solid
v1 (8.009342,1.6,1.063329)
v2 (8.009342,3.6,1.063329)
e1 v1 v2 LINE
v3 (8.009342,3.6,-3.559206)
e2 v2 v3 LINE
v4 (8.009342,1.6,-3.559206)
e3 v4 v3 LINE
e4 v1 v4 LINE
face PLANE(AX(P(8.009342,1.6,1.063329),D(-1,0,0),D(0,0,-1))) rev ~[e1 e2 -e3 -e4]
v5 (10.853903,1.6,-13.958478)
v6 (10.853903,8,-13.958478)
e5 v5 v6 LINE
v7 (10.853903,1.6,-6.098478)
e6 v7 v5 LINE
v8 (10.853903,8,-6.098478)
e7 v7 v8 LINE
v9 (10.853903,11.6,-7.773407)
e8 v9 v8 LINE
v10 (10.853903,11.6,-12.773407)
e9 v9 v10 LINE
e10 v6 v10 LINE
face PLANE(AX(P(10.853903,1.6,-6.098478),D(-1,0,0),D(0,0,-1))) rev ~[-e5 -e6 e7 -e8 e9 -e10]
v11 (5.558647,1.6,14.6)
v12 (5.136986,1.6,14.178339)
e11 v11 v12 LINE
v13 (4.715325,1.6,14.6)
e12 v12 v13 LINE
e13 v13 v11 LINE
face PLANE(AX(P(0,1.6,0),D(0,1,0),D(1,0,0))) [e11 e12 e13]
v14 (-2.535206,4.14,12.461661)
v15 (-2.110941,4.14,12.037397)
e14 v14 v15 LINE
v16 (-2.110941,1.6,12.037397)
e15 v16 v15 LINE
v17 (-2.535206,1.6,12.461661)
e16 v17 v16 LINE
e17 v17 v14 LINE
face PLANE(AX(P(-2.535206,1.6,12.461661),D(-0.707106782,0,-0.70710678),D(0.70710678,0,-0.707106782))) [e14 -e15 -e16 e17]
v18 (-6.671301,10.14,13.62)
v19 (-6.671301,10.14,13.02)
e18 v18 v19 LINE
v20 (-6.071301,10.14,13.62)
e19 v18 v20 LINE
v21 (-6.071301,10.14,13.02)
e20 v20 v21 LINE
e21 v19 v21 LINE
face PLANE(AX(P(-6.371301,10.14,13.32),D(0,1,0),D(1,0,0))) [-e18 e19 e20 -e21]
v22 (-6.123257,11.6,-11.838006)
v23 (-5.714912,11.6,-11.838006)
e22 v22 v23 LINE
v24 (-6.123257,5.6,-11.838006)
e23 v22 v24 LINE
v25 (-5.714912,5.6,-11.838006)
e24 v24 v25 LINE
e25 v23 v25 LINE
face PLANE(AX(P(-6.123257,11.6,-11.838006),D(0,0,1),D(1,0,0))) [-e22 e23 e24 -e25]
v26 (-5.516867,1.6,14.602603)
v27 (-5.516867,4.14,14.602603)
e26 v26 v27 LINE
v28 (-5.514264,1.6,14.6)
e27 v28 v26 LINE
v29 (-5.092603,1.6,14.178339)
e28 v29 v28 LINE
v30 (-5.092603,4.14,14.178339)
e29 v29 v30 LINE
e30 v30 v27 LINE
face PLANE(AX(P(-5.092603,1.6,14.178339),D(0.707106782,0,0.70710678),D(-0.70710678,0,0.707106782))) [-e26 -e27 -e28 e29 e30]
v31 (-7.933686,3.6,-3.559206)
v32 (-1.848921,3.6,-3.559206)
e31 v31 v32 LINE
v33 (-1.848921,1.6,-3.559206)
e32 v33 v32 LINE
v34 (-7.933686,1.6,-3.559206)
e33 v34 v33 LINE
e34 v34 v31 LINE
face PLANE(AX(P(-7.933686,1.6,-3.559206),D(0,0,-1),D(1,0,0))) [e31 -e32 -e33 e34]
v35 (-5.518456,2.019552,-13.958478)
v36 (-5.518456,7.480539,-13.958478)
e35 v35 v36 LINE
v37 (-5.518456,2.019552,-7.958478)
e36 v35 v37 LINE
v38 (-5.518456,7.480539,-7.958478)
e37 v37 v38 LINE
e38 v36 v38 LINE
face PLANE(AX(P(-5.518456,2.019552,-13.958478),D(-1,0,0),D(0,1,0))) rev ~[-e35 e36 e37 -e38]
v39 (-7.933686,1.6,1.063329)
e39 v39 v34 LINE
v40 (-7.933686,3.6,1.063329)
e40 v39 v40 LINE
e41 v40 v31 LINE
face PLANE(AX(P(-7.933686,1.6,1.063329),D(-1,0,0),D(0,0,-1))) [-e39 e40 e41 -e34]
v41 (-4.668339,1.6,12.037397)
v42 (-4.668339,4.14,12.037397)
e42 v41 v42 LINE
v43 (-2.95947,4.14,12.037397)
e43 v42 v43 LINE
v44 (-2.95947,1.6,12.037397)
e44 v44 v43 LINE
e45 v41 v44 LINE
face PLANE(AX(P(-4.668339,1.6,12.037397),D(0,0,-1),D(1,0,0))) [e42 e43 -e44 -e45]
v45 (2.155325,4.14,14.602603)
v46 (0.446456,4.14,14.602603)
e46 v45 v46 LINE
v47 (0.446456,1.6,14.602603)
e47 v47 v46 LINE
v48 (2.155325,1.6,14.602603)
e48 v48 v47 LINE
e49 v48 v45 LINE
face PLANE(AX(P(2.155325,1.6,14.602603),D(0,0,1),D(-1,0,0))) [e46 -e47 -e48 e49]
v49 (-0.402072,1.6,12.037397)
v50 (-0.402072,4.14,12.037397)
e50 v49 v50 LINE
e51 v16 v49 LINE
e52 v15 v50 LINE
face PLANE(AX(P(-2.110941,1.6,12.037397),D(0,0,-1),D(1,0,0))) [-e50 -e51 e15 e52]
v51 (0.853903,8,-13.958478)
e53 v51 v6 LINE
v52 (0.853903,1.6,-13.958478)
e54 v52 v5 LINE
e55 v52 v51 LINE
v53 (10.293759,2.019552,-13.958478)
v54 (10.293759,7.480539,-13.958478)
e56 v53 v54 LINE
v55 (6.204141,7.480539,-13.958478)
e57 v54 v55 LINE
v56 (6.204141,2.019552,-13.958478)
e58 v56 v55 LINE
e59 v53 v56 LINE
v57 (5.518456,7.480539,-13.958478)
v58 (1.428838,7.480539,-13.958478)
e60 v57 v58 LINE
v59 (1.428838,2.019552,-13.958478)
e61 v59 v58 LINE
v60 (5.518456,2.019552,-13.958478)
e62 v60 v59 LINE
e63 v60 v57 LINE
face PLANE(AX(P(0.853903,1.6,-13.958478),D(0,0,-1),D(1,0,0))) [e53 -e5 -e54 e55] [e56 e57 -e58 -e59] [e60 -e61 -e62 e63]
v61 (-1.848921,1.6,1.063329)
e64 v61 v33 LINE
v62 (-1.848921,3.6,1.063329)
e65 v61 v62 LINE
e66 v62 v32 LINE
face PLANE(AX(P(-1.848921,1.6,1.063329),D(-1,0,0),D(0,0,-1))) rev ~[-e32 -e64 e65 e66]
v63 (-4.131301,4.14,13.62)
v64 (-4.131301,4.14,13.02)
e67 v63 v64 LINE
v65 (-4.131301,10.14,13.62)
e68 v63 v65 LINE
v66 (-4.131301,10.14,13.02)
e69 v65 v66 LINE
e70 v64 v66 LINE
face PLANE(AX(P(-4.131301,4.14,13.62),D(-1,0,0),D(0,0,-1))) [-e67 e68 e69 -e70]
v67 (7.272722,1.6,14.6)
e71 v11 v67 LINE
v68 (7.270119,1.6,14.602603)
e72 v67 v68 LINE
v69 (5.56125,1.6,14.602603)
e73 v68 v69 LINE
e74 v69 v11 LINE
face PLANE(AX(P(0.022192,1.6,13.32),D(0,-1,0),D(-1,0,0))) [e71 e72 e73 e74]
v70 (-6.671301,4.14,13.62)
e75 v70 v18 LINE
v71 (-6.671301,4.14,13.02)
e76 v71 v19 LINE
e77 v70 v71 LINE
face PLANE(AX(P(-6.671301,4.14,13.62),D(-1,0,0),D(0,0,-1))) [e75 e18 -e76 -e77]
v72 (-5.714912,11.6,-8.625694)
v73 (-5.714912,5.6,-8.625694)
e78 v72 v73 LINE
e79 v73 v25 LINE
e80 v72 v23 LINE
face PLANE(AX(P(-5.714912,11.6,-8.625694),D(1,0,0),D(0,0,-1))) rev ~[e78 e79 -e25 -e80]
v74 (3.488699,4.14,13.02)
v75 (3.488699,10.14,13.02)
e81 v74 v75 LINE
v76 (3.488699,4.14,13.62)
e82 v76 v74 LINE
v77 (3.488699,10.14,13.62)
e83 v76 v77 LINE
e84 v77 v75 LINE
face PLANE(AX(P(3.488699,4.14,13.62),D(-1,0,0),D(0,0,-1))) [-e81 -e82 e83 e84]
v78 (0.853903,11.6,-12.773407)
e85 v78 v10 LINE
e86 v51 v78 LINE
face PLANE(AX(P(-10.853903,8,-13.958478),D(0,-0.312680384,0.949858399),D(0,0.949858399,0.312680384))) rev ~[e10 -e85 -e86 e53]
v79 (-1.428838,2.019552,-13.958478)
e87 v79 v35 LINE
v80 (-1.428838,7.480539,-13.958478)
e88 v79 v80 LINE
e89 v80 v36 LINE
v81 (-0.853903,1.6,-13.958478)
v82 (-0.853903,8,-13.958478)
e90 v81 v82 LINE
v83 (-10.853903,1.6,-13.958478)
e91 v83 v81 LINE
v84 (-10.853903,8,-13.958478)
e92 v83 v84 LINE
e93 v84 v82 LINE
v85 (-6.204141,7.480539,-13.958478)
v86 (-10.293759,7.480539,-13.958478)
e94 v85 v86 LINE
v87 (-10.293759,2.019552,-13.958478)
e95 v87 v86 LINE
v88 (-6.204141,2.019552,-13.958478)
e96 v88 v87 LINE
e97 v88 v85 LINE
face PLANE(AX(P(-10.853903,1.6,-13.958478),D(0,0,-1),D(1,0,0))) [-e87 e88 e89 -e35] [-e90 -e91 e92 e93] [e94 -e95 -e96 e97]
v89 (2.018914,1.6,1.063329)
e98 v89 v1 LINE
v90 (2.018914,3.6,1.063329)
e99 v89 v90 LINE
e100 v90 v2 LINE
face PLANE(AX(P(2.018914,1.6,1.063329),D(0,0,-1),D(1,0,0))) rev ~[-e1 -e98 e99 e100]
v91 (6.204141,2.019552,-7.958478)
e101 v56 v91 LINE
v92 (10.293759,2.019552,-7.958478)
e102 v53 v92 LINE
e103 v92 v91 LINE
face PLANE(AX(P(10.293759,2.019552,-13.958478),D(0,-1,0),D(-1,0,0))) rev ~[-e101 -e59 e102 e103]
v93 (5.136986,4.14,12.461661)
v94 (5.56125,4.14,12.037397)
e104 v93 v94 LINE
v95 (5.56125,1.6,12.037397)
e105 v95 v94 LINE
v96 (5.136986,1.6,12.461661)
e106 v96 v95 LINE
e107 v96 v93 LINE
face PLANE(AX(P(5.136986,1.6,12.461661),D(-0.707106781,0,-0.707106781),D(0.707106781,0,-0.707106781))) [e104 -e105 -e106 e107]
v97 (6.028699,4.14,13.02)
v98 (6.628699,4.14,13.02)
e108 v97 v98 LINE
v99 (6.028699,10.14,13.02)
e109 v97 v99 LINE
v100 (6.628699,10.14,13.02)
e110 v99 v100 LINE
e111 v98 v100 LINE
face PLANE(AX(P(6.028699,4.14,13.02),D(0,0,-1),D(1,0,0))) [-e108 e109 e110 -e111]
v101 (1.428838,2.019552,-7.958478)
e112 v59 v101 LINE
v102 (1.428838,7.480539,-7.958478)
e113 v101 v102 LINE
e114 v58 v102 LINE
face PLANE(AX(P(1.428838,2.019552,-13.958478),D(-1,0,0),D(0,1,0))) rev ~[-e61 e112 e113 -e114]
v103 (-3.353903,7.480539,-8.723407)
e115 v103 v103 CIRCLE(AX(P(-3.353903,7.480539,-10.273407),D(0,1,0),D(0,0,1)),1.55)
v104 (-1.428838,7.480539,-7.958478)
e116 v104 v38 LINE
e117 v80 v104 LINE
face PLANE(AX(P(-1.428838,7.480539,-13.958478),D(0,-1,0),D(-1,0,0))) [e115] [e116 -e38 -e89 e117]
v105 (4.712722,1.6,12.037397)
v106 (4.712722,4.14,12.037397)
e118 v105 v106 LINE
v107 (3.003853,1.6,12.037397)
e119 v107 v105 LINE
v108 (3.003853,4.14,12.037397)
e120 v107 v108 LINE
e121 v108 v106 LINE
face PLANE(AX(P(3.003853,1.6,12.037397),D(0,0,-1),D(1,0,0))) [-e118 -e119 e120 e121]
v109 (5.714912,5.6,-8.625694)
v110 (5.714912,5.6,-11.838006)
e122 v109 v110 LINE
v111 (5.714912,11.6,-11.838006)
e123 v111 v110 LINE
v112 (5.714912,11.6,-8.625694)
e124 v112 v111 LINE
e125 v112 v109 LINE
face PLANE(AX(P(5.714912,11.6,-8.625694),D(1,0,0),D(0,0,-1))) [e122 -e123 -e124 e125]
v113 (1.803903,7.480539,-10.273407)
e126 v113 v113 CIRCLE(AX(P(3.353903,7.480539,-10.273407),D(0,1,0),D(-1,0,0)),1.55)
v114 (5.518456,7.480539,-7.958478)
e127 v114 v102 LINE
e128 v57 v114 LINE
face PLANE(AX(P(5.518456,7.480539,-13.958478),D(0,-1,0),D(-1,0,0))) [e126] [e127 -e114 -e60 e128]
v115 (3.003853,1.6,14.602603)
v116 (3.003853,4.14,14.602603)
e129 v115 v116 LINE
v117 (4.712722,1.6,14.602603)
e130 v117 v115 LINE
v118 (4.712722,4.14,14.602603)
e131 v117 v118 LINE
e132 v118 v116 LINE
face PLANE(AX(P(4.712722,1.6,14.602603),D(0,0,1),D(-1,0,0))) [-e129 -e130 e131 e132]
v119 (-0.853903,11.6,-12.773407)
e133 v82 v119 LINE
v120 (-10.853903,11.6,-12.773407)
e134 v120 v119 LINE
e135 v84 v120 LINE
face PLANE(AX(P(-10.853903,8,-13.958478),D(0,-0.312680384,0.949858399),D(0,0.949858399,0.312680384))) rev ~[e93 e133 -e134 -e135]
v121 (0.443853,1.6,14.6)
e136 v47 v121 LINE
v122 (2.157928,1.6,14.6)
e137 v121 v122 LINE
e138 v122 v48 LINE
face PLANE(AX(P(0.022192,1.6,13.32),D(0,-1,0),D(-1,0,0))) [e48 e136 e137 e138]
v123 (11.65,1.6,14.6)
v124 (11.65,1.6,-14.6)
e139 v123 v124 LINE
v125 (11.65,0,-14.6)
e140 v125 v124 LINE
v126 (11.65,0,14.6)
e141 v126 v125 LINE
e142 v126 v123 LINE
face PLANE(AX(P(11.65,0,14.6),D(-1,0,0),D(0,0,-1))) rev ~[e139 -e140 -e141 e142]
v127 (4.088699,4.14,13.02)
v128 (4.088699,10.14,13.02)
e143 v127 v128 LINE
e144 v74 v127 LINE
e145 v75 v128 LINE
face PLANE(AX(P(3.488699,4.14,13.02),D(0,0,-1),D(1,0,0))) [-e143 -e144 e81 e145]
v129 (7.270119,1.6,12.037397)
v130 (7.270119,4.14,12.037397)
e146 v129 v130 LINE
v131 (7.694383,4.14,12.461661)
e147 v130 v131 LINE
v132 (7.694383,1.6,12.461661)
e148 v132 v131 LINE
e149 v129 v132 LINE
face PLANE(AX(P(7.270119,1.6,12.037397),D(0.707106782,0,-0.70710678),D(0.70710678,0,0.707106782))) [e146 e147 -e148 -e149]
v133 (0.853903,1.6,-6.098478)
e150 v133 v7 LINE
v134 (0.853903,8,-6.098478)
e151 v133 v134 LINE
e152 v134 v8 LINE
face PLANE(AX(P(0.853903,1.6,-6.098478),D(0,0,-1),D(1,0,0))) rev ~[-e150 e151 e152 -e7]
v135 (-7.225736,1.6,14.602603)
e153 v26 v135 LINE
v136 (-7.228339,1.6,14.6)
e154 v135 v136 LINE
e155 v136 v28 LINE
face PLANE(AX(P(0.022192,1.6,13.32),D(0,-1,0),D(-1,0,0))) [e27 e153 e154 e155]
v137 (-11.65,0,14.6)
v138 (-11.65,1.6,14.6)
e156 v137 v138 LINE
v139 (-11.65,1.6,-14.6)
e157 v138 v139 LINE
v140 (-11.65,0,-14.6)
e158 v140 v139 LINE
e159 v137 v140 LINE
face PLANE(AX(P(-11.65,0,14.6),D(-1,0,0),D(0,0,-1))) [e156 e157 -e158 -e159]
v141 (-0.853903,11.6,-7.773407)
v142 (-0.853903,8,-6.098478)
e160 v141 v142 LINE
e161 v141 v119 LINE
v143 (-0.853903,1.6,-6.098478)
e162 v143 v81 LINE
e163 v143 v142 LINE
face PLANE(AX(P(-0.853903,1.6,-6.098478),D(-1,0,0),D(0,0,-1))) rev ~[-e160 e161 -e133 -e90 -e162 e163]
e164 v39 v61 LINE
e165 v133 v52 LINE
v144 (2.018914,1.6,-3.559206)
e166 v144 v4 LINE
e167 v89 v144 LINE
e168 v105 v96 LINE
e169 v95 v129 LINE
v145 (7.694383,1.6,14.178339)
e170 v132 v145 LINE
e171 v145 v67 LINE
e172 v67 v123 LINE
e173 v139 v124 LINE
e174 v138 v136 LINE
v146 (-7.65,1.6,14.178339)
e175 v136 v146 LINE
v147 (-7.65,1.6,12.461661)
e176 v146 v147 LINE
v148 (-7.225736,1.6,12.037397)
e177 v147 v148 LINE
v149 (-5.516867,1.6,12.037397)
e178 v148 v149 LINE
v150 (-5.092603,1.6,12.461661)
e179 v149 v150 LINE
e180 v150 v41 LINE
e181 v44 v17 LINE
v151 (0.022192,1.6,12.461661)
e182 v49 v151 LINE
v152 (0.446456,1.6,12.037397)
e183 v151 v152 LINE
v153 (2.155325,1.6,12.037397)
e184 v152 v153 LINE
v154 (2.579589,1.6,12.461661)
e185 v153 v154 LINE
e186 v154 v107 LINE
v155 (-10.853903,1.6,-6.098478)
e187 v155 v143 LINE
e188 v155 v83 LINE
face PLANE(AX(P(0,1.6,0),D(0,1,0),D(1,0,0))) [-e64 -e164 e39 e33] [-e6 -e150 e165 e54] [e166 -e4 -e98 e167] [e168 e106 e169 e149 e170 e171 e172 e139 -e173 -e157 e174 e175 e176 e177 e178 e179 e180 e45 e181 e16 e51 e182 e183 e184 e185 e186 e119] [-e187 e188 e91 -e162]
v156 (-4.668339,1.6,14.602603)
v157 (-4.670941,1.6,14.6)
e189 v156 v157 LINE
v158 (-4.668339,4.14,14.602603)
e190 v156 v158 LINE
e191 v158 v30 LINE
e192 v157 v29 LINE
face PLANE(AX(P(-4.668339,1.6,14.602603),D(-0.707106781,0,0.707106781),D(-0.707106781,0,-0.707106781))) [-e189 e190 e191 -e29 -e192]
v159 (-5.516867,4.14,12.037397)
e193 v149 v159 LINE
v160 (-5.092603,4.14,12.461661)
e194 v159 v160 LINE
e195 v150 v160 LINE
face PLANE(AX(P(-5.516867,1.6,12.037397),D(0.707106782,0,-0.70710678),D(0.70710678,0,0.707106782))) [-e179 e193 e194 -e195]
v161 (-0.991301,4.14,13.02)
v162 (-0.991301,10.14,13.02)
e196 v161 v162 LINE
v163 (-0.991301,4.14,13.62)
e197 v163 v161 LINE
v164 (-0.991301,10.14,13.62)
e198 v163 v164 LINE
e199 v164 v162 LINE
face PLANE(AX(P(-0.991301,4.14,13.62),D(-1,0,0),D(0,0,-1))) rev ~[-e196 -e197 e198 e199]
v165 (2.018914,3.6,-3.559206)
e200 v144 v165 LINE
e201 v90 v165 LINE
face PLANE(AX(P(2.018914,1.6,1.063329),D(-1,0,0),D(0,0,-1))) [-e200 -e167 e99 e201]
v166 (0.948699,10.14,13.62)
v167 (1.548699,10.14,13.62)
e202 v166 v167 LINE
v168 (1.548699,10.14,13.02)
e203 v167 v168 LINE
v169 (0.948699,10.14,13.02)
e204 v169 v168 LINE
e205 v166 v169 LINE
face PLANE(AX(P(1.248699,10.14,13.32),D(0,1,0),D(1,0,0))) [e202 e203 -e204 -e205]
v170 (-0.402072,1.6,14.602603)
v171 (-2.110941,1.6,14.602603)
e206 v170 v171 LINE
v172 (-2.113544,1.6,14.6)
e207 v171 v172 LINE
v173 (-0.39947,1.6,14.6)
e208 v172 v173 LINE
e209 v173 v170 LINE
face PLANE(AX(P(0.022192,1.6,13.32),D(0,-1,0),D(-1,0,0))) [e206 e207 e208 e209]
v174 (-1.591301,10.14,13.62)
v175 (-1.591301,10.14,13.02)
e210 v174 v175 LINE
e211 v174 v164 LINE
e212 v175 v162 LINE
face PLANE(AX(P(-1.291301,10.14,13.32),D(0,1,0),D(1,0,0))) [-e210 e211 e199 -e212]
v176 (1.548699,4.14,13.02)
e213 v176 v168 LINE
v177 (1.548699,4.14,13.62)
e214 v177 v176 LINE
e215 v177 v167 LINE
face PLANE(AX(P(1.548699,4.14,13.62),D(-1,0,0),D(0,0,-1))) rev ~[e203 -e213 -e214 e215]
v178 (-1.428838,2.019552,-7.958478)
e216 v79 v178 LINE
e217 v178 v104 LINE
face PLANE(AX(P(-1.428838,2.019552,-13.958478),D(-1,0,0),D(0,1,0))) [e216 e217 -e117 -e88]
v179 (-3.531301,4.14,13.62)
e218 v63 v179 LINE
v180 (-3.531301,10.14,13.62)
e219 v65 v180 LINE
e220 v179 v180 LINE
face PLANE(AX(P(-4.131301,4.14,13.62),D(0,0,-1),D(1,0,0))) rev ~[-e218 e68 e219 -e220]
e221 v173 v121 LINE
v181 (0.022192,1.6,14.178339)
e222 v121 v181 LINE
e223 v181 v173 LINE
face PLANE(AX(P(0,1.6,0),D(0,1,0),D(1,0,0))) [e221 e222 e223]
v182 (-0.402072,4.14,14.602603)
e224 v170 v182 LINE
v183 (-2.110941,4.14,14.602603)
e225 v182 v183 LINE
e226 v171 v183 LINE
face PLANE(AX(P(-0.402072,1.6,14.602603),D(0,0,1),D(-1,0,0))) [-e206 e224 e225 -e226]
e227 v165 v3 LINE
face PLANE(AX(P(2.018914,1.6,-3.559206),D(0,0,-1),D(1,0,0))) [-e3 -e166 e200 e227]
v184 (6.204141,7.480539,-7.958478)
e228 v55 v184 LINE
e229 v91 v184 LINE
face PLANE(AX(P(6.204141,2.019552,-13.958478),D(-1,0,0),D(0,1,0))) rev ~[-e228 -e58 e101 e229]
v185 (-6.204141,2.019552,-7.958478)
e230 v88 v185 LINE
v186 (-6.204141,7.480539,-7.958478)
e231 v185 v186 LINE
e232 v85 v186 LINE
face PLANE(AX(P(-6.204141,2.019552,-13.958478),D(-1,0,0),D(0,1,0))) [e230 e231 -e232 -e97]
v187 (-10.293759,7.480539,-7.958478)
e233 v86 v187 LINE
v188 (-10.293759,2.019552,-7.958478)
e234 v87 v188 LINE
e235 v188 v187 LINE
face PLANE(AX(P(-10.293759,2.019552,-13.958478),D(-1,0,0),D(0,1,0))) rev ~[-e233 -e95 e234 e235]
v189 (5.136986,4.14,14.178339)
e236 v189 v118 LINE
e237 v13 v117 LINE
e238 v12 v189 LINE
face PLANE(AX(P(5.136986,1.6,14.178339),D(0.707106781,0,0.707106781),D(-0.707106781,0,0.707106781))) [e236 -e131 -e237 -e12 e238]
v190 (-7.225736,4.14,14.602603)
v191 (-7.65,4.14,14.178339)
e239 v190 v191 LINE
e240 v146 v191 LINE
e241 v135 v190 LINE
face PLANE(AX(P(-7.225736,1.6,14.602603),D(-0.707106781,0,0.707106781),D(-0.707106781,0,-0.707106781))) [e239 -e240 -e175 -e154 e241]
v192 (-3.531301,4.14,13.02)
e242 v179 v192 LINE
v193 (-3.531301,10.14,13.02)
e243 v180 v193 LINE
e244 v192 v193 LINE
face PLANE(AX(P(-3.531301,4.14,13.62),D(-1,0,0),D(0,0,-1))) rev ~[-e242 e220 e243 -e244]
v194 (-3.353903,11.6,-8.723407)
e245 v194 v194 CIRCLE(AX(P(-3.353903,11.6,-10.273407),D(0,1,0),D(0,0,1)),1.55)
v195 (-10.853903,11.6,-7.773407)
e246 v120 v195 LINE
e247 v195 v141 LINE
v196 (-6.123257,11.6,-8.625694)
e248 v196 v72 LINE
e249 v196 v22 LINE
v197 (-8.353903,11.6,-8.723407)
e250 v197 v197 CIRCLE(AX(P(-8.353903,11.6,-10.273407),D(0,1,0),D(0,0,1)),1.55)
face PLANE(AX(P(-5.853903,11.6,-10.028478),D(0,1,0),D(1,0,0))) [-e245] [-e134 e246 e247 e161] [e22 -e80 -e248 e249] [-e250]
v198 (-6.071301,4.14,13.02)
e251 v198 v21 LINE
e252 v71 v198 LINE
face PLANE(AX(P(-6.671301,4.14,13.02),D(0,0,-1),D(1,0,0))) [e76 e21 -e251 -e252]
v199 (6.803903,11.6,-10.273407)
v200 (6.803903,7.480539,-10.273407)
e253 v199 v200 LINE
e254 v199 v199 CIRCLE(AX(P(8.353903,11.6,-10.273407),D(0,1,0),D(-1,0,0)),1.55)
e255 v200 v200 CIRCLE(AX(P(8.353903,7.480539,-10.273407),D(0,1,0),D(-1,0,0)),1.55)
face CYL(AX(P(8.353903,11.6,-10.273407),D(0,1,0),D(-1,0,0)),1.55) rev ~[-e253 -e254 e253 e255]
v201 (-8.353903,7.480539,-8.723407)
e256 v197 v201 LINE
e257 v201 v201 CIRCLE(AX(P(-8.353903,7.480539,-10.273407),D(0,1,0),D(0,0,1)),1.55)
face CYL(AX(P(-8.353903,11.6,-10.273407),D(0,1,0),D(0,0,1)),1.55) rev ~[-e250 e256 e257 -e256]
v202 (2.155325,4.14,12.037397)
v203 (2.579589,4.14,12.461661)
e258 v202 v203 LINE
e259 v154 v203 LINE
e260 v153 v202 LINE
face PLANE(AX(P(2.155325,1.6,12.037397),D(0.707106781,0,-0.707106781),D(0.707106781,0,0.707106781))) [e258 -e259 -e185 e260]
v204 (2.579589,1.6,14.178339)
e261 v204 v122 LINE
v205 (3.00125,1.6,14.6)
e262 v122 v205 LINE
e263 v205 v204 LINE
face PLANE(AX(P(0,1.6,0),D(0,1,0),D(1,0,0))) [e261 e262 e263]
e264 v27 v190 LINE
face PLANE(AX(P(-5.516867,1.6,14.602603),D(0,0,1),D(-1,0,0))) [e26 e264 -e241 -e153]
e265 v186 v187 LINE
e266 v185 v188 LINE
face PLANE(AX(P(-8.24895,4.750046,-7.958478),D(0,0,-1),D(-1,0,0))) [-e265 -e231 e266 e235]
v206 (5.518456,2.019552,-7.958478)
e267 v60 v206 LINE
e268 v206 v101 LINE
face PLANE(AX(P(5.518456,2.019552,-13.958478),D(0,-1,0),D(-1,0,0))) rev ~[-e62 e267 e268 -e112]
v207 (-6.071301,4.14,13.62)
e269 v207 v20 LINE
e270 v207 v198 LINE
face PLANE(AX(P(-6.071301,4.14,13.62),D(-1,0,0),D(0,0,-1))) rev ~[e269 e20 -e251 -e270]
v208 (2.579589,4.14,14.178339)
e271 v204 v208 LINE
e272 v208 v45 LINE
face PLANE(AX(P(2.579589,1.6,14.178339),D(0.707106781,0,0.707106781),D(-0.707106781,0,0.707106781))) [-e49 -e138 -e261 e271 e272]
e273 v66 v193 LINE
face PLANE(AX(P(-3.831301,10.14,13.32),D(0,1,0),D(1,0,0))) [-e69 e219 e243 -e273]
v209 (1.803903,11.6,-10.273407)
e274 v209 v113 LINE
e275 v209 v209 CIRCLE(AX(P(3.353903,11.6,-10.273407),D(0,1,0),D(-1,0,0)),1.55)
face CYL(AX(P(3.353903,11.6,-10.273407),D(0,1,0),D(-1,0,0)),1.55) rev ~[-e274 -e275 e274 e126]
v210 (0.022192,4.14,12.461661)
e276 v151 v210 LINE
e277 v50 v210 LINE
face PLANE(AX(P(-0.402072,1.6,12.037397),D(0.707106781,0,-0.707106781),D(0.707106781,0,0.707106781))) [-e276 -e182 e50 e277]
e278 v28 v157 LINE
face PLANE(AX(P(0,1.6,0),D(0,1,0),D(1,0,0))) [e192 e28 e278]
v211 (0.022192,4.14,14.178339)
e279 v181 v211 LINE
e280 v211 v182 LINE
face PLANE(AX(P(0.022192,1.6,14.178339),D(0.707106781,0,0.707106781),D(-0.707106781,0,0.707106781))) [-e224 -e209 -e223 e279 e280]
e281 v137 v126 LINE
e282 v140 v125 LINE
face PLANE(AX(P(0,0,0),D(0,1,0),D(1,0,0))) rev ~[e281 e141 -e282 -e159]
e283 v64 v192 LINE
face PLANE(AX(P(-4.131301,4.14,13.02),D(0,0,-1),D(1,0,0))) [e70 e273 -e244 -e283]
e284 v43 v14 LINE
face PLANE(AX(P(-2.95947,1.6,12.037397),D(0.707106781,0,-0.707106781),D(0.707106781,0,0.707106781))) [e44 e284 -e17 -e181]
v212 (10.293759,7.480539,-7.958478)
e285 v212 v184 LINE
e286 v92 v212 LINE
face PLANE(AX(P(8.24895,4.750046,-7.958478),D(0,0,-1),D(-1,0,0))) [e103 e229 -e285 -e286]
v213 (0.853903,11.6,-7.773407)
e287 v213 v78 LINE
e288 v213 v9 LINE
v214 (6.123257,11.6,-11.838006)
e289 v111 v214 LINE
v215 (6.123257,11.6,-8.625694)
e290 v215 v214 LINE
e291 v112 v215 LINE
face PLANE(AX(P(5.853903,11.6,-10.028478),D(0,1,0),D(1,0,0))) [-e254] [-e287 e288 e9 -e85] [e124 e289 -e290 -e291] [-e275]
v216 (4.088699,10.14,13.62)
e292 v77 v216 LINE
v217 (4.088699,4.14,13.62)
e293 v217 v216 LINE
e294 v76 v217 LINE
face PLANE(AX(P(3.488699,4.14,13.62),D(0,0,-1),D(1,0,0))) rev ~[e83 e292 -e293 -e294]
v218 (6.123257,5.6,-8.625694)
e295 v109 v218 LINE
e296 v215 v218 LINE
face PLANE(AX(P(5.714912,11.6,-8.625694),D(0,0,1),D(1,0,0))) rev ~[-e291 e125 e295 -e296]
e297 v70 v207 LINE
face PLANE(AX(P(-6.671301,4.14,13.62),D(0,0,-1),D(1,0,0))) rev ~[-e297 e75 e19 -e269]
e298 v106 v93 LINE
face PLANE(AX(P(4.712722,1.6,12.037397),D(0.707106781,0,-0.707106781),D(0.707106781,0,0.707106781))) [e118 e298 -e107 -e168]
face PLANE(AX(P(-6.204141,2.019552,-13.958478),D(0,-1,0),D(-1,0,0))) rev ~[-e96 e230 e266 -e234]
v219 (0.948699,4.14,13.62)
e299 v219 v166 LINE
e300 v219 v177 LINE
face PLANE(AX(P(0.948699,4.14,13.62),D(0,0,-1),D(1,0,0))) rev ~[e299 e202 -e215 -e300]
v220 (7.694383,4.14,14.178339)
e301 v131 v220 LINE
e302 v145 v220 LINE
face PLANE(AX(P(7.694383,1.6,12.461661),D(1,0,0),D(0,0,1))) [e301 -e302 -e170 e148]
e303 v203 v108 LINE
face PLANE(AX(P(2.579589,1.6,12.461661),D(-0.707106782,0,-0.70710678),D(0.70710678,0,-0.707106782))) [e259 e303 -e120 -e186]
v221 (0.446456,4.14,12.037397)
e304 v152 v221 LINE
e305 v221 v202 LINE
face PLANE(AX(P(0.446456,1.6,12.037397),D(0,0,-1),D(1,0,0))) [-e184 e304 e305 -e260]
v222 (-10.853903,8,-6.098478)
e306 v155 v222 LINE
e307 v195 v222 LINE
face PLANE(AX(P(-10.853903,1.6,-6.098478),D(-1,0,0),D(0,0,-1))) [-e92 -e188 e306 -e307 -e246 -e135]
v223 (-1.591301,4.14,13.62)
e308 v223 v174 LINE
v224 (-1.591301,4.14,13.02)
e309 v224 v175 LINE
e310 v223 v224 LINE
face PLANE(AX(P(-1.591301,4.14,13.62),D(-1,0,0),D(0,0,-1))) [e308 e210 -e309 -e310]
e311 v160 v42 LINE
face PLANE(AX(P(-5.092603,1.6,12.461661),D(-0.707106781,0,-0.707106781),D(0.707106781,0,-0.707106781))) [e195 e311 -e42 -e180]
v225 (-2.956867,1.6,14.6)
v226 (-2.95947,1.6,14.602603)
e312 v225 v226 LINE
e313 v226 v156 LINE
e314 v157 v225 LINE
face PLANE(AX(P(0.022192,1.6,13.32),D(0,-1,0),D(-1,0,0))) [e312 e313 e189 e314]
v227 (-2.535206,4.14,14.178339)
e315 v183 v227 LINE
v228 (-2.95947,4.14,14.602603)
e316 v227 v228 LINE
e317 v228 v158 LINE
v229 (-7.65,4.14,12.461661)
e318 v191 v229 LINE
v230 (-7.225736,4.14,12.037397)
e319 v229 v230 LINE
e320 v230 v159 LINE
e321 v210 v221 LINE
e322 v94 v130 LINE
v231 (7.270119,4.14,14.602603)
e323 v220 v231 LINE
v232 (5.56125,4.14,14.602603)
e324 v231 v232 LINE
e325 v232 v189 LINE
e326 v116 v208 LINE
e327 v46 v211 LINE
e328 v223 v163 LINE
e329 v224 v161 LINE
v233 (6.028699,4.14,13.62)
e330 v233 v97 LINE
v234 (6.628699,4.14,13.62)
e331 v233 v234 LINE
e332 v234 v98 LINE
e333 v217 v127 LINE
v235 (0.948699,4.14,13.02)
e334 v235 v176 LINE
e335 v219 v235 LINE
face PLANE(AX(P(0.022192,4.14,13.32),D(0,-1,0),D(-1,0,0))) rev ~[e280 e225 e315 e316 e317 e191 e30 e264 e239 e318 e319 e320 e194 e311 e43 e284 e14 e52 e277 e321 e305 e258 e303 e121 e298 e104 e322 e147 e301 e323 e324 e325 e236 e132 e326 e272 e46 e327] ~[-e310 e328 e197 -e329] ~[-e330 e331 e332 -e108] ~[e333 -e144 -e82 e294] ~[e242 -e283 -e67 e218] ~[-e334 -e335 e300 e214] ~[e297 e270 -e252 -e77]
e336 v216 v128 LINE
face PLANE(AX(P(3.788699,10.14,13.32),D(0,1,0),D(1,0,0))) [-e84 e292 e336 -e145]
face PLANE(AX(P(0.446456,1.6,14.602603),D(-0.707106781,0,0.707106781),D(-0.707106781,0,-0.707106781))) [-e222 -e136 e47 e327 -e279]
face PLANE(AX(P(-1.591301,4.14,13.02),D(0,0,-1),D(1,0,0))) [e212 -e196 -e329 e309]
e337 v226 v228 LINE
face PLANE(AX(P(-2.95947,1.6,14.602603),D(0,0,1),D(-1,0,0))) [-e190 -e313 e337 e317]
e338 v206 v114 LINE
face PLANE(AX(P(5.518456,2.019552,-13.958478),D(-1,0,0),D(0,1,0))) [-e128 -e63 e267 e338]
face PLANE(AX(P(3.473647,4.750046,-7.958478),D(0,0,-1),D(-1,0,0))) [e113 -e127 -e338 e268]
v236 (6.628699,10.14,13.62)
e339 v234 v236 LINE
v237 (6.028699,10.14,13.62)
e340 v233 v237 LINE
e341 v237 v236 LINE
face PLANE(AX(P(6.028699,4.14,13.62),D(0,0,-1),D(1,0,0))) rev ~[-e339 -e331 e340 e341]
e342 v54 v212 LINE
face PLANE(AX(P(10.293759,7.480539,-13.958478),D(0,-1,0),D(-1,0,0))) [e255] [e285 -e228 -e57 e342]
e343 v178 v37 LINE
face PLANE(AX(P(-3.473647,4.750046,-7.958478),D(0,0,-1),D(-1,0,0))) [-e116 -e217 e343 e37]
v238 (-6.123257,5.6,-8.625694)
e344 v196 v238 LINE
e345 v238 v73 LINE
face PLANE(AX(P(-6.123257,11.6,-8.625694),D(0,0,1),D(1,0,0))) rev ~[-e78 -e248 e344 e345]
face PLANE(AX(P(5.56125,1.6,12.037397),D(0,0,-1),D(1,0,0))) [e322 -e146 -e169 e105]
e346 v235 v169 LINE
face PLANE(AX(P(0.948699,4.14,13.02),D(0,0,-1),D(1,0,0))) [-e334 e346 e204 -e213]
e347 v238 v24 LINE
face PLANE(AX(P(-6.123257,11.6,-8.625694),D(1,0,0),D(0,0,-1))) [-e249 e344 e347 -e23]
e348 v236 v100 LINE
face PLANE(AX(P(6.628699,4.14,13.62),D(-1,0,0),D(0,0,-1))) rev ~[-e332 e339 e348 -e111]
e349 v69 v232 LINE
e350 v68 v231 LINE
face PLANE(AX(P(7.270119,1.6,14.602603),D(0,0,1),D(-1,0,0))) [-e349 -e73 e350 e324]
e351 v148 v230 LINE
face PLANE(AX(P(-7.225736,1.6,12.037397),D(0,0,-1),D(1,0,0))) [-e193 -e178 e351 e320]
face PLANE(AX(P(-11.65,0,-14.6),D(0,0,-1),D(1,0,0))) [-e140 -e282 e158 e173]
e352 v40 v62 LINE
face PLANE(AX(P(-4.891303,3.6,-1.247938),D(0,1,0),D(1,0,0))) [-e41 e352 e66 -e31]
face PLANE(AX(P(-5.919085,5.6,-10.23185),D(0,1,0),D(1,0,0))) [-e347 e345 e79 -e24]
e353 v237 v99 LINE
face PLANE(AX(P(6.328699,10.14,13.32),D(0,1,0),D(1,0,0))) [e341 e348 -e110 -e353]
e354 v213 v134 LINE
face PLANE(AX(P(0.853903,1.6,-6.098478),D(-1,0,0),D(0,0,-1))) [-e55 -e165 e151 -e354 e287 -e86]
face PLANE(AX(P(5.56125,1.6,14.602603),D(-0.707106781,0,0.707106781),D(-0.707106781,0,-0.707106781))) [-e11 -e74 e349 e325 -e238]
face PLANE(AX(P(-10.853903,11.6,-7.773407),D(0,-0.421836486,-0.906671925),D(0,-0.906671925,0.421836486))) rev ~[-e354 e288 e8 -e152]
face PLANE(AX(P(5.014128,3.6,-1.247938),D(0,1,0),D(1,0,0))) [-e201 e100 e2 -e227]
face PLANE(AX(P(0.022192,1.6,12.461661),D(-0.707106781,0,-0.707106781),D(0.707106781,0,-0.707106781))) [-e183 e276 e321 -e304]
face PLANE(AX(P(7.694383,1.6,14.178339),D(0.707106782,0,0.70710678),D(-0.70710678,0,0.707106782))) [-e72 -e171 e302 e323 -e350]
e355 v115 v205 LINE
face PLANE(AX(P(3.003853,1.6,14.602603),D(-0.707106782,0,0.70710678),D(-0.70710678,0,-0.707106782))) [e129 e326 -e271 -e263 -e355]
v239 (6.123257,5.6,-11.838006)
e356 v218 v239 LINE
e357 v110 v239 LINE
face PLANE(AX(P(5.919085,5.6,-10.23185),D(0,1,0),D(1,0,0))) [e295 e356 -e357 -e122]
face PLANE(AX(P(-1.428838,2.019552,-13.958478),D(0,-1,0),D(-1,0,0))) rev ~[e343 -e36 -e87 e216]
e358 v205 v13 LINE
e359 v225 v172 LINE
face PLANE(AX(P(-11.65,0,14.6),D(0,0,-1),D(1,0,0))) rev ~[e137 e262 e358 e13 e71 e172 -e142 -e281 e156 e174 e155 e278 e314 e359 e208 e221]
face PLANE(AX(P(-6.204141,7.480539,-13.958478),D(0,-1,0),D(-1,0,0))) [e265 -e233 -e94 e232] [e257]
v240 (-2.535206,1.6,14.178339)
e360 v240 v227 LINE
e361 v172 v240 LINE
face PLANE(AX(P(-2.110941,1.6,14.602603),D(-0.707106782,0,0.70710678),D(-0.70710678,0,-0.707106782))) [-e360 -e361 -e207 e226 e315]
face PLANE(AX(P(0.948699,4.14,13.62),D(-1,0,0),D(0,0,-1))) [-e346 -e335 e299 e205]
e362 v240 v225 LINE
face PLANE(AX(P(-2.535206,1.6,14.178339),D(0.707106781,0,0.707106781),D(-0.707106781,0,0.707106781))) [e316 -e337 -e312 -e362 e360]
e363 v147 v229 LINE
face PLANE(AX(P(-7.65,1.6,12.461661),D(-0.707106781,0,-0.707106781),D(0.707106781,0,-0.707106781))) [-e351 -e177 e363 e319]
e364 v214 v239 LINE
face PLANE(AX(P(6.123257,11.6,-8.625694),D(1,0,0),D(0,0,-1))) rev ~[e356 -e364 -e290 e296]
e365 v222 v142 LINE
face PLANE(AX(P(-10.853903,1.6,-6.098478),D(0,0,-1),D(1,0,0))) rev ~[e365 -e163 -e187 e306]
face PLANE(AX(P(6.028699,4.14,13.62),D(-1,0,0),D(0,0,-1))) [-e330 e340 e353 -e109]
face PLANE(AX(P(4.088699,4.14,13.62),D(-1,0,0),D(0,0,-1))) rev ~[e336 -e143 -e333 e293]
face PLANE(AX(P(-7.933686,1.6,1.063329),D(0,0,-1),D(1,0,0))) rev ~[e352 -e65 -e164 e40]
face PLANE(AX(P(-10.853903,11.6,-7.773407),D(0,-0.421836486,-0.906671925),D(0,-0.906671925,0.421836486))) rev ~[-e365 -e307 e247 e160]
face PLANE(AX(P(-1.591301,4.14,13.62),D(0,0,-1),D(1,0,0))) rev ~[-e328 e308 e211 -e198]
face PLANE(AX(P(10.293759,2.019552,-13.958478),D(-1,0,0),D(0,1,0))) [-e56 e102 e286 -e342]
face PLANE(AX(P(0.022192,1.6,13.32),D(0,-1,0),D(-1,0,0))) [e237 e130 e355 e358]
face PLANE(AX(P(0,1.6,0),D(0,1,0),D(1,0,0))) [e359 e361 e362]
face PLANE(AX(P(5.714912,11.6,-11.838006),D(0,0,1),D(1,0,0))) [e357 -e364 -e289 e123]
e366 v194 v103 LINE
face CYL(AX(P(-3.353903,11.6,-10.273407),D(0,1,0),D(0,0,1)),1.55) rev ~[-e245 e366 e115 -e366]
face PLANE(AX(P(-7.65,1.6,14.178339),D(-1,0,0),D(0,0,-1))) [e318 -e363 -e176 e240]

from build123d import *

# Parameters (mm, degrees)
SKETCH_1_W              = 23.3
SKETCH_1_H              = 29.2
EXTRUDE_1_DEPTH         = 1.6
EXTRUDE_2_DEPTH         = 2.54
SKETCH_3_W              = 0.6
SKETCH_3_H              = 0.6
EXTRUDE_3_DEPTH         = 6
PATTERN_LINEAR_11_COUNT = 6
PATTERN_LINEAR_11_PITCH = 2.54
SKETCH_4_W              = 6.084765078
SKETCH_4_H              = 4.622534711
SKETCH_4_W_2            = 5.990427635
EXTRUDE_4_DEPTH         = 2
SKETCH_5_W              = 10
SKETCH_5_H              = 7.86
EXTRUDE_5_DEPTH         = 10
CUT_EXTRUDE_1_DEPTH     = 28
SKETCH_7_W              = 4.089618495
SKETCH_7_H              = 5.460987571
CUT_EXTRUDE_2_DEPTH     = 6
SKETCH_8_R              = 1.55
SKETCH_8_W              = 0.408344746
SKETCH_8_H              = 3.212311997
CUT_EXTRUDE_3_DEPTH     = 6


with BuildPart() as part:
    # 草图1 → 凸台-拉伸1 (new body)
    with BuildSketch(Plane(origin=(0, 0, 0), x_dir=(1, 0, 0), z_dir=(0, 1, 0))):
        Rectangle(SKETCH_1_W, SKETCH_1_H)
    extrude(amount=EXTRUDE_1_DEPTH)

    # 草图2 → 凸台-拉伸2 (add)
    with BuildSketch(Plane(origin=(0, 1.6, 0), x_dir=(1, 0, 0), z_dir=(0, 1, 0))):
        Polygon((-4.668338696, -12.037397235), (-2.959469598, -12.037397235), (-2.535205529, -12.461661304), (-2.110941461, -12.037397235), (-0.402072363, -12.037397235), (0.022191706, -12.461661304), (0.446455775, -12.037397235), (2.155324873, -12.037397235), (2.579588942, -12.461661304), (3.00385301, -12.037397235), (4.712722108, -12.037397235), (5.136986177, -12.461661304), (5.561250246, -12.037397235), (7.270119344, -12.037397235), (7.694383412, -12.461661304), (7.694383412, -14.178338696), (7.270119344, -14.602602765), (5.561250246, -14.602602765), (5.136986177, -14.178338696), (4.712722108, -14.602602765), (3.00385301, -14.602602765), (2.579588942, -14.178338696), (2.155324873, -14.602602765), (0.446455775, -14.602602765), (0.022191706, -14.178338696), (-0.402072363, -14.602602765), (-2.110941461, -14.602602765), (-2.535205529, -14.178338696), (-2.959469598, -14.602602765), (-4.668338696, -14.602602765), (-5.092602765, -14.178338696), (-5.516866833, -14.602602765), (-7.225735931, -14.602602765), (-7.65, -14.178338696), (-7.65, -12.461661304), (-7.225735931, -12.037397235), (-5.516866833, -12.037397235), (-5.092602765, -12.461661304), align=None)
    extrude(amount=EXTRUDE_2_DEPTH)

    # 草图3 → 凸台-拉伸3 (add)
    with BuildSketch(Plane(origin=(0, 4.14, 0), x_dir=(1, 0, 0), z_dir=(0, 1, 0))):
        with Locations((-6.371301382, -13.32)):
            Rectangle(SKETCH_3_W, SKETCH_3_H)
    extrude_3 = extrude(amount=EXTRUDE_3_DEPTH)

    # 阵列(线性)11: 凸台-拉伸3 ×6
    with Locations(*[(i * PATTERN_LINEAR_11_PITCH, 0, 0) for i in range(1, PATTERN_LINEAR_11_COUNT)]):
        add(extrude_3)

    # 草图4 → 凸台-拉伸4 (add)
    with BuildSketch(Plane(origin=(0, 1.6, 0), x_dir=(1, 0, 0), z_dir=(0, 1, 0))):
        with Locations((-4.891303326, 1.247938362)):
            Rectangle(SKETCH_4_W, SKETCH_4_H)
        with Locations((5.014128197, 1.247938362)):
            Rectangle(SKETCH_4_W_2, SKETCH_4_H)
    extrude(amount=EXTRUDE_4_DEPTH)

    # 草图5 → 凸台-拉伸5 (add)
    with BuildSketch(Plane(origin=(0, 1.6, 0), x_dir=(1, 0, 0), z_dir=(0, 1, 0))):
        with Locations((-5.85390251, 10.028478066)):
            Rectangle(SKETCH_5_W, SKETCH_5_H)
        with Locations((5.85390251, 10.028478066)):
            Rectangle(SKETCH_5_W, SKETCH_5_H)
    extrude(amount=EXTRUDE_5_DEPTH)

    # 草图6 → 切除-拉伸1 (cut)
    with BuildSketch(Plane.ZY.offset(10.85390251)):
        Polygon((-13.958478066, 8), (-12.773407339, 11.6), (-7.773407339, 11.6), (-6.098478066, 8), (-4.60674586, 8), (-4.60674586, 12.734862091), (-15.29251654, 12.734862091), (-15.29251654, 8), align=None)
    extrude(amount=-CUT_EXTRUDE_1_DEPTH, mode=Mode.SUBTRACT)

    # 草图7 → 切除-拉伸2 (cut)
    with BuildSketch(Plane(origin=(0, 0, -13.958478066), x_dir=(-1, 0, 0), z_dir=(0, 0, -1))):
        with Locations((-8.248950011, 4.75004571)):
            Rectangle(SKETCH_7_W, SKETCH_7_H)
        with Locations((8.248950011, 4.75004571)):
            Rectangle(SKETCH_7_W, SKETCH_7_H)
        with Locations((3.473646978, 4.75004571)):
            Rectangle(SKETCH_7_W, SKETCH_7_H)
        with Locations((-3.473646978, 4.75004571)):
            Rectangle(SKETCH_7_W, SKETCH_7_H)
    extrude(amount=-CUT_EXTRUDE_2_DEPTH, mode=Mode.SUBTRACT)

    # 草图8 → 切除-拉伸3 (cut)
    with BuildSketch(Plane(origin=(0, 11.6, 0), x_dir=(1, 0, 0), z_dir=(0, 1, 0))):
        with Locations(Location((-8.35390251, 10.273407339, 0), (0, 0, 270))):
            Circle(SKETCH_8_R)
        with Locations(Location((-3.35390251, 10.273407339, 0), (0, 0, 270))):
            Circle(SKETCH_8_R)
        with Locations(Location((8.35390251, 10.273407339, 0), (0, 0, 180))):
            Circle(SKETCH_8_R)
        with Locations(Location((3.35390251, 10.273407339, 0), (0, 0, 180))):
            Circle(SKETCH_8_R)
        with Locations((-5.919084565, 10.231849543)):
            Rectangle(SKETCH_8_W, SKETCH_8_H)
        with Locations((5.919084565, 10.231849543)):
            Rectangle(SKETCH_8_W, SKETCH_8_H)
    extrude(amount=-CUT_EXTRUDE_3_DEPTH, mode=Mode.SUBTRACT)


solid = part.part
